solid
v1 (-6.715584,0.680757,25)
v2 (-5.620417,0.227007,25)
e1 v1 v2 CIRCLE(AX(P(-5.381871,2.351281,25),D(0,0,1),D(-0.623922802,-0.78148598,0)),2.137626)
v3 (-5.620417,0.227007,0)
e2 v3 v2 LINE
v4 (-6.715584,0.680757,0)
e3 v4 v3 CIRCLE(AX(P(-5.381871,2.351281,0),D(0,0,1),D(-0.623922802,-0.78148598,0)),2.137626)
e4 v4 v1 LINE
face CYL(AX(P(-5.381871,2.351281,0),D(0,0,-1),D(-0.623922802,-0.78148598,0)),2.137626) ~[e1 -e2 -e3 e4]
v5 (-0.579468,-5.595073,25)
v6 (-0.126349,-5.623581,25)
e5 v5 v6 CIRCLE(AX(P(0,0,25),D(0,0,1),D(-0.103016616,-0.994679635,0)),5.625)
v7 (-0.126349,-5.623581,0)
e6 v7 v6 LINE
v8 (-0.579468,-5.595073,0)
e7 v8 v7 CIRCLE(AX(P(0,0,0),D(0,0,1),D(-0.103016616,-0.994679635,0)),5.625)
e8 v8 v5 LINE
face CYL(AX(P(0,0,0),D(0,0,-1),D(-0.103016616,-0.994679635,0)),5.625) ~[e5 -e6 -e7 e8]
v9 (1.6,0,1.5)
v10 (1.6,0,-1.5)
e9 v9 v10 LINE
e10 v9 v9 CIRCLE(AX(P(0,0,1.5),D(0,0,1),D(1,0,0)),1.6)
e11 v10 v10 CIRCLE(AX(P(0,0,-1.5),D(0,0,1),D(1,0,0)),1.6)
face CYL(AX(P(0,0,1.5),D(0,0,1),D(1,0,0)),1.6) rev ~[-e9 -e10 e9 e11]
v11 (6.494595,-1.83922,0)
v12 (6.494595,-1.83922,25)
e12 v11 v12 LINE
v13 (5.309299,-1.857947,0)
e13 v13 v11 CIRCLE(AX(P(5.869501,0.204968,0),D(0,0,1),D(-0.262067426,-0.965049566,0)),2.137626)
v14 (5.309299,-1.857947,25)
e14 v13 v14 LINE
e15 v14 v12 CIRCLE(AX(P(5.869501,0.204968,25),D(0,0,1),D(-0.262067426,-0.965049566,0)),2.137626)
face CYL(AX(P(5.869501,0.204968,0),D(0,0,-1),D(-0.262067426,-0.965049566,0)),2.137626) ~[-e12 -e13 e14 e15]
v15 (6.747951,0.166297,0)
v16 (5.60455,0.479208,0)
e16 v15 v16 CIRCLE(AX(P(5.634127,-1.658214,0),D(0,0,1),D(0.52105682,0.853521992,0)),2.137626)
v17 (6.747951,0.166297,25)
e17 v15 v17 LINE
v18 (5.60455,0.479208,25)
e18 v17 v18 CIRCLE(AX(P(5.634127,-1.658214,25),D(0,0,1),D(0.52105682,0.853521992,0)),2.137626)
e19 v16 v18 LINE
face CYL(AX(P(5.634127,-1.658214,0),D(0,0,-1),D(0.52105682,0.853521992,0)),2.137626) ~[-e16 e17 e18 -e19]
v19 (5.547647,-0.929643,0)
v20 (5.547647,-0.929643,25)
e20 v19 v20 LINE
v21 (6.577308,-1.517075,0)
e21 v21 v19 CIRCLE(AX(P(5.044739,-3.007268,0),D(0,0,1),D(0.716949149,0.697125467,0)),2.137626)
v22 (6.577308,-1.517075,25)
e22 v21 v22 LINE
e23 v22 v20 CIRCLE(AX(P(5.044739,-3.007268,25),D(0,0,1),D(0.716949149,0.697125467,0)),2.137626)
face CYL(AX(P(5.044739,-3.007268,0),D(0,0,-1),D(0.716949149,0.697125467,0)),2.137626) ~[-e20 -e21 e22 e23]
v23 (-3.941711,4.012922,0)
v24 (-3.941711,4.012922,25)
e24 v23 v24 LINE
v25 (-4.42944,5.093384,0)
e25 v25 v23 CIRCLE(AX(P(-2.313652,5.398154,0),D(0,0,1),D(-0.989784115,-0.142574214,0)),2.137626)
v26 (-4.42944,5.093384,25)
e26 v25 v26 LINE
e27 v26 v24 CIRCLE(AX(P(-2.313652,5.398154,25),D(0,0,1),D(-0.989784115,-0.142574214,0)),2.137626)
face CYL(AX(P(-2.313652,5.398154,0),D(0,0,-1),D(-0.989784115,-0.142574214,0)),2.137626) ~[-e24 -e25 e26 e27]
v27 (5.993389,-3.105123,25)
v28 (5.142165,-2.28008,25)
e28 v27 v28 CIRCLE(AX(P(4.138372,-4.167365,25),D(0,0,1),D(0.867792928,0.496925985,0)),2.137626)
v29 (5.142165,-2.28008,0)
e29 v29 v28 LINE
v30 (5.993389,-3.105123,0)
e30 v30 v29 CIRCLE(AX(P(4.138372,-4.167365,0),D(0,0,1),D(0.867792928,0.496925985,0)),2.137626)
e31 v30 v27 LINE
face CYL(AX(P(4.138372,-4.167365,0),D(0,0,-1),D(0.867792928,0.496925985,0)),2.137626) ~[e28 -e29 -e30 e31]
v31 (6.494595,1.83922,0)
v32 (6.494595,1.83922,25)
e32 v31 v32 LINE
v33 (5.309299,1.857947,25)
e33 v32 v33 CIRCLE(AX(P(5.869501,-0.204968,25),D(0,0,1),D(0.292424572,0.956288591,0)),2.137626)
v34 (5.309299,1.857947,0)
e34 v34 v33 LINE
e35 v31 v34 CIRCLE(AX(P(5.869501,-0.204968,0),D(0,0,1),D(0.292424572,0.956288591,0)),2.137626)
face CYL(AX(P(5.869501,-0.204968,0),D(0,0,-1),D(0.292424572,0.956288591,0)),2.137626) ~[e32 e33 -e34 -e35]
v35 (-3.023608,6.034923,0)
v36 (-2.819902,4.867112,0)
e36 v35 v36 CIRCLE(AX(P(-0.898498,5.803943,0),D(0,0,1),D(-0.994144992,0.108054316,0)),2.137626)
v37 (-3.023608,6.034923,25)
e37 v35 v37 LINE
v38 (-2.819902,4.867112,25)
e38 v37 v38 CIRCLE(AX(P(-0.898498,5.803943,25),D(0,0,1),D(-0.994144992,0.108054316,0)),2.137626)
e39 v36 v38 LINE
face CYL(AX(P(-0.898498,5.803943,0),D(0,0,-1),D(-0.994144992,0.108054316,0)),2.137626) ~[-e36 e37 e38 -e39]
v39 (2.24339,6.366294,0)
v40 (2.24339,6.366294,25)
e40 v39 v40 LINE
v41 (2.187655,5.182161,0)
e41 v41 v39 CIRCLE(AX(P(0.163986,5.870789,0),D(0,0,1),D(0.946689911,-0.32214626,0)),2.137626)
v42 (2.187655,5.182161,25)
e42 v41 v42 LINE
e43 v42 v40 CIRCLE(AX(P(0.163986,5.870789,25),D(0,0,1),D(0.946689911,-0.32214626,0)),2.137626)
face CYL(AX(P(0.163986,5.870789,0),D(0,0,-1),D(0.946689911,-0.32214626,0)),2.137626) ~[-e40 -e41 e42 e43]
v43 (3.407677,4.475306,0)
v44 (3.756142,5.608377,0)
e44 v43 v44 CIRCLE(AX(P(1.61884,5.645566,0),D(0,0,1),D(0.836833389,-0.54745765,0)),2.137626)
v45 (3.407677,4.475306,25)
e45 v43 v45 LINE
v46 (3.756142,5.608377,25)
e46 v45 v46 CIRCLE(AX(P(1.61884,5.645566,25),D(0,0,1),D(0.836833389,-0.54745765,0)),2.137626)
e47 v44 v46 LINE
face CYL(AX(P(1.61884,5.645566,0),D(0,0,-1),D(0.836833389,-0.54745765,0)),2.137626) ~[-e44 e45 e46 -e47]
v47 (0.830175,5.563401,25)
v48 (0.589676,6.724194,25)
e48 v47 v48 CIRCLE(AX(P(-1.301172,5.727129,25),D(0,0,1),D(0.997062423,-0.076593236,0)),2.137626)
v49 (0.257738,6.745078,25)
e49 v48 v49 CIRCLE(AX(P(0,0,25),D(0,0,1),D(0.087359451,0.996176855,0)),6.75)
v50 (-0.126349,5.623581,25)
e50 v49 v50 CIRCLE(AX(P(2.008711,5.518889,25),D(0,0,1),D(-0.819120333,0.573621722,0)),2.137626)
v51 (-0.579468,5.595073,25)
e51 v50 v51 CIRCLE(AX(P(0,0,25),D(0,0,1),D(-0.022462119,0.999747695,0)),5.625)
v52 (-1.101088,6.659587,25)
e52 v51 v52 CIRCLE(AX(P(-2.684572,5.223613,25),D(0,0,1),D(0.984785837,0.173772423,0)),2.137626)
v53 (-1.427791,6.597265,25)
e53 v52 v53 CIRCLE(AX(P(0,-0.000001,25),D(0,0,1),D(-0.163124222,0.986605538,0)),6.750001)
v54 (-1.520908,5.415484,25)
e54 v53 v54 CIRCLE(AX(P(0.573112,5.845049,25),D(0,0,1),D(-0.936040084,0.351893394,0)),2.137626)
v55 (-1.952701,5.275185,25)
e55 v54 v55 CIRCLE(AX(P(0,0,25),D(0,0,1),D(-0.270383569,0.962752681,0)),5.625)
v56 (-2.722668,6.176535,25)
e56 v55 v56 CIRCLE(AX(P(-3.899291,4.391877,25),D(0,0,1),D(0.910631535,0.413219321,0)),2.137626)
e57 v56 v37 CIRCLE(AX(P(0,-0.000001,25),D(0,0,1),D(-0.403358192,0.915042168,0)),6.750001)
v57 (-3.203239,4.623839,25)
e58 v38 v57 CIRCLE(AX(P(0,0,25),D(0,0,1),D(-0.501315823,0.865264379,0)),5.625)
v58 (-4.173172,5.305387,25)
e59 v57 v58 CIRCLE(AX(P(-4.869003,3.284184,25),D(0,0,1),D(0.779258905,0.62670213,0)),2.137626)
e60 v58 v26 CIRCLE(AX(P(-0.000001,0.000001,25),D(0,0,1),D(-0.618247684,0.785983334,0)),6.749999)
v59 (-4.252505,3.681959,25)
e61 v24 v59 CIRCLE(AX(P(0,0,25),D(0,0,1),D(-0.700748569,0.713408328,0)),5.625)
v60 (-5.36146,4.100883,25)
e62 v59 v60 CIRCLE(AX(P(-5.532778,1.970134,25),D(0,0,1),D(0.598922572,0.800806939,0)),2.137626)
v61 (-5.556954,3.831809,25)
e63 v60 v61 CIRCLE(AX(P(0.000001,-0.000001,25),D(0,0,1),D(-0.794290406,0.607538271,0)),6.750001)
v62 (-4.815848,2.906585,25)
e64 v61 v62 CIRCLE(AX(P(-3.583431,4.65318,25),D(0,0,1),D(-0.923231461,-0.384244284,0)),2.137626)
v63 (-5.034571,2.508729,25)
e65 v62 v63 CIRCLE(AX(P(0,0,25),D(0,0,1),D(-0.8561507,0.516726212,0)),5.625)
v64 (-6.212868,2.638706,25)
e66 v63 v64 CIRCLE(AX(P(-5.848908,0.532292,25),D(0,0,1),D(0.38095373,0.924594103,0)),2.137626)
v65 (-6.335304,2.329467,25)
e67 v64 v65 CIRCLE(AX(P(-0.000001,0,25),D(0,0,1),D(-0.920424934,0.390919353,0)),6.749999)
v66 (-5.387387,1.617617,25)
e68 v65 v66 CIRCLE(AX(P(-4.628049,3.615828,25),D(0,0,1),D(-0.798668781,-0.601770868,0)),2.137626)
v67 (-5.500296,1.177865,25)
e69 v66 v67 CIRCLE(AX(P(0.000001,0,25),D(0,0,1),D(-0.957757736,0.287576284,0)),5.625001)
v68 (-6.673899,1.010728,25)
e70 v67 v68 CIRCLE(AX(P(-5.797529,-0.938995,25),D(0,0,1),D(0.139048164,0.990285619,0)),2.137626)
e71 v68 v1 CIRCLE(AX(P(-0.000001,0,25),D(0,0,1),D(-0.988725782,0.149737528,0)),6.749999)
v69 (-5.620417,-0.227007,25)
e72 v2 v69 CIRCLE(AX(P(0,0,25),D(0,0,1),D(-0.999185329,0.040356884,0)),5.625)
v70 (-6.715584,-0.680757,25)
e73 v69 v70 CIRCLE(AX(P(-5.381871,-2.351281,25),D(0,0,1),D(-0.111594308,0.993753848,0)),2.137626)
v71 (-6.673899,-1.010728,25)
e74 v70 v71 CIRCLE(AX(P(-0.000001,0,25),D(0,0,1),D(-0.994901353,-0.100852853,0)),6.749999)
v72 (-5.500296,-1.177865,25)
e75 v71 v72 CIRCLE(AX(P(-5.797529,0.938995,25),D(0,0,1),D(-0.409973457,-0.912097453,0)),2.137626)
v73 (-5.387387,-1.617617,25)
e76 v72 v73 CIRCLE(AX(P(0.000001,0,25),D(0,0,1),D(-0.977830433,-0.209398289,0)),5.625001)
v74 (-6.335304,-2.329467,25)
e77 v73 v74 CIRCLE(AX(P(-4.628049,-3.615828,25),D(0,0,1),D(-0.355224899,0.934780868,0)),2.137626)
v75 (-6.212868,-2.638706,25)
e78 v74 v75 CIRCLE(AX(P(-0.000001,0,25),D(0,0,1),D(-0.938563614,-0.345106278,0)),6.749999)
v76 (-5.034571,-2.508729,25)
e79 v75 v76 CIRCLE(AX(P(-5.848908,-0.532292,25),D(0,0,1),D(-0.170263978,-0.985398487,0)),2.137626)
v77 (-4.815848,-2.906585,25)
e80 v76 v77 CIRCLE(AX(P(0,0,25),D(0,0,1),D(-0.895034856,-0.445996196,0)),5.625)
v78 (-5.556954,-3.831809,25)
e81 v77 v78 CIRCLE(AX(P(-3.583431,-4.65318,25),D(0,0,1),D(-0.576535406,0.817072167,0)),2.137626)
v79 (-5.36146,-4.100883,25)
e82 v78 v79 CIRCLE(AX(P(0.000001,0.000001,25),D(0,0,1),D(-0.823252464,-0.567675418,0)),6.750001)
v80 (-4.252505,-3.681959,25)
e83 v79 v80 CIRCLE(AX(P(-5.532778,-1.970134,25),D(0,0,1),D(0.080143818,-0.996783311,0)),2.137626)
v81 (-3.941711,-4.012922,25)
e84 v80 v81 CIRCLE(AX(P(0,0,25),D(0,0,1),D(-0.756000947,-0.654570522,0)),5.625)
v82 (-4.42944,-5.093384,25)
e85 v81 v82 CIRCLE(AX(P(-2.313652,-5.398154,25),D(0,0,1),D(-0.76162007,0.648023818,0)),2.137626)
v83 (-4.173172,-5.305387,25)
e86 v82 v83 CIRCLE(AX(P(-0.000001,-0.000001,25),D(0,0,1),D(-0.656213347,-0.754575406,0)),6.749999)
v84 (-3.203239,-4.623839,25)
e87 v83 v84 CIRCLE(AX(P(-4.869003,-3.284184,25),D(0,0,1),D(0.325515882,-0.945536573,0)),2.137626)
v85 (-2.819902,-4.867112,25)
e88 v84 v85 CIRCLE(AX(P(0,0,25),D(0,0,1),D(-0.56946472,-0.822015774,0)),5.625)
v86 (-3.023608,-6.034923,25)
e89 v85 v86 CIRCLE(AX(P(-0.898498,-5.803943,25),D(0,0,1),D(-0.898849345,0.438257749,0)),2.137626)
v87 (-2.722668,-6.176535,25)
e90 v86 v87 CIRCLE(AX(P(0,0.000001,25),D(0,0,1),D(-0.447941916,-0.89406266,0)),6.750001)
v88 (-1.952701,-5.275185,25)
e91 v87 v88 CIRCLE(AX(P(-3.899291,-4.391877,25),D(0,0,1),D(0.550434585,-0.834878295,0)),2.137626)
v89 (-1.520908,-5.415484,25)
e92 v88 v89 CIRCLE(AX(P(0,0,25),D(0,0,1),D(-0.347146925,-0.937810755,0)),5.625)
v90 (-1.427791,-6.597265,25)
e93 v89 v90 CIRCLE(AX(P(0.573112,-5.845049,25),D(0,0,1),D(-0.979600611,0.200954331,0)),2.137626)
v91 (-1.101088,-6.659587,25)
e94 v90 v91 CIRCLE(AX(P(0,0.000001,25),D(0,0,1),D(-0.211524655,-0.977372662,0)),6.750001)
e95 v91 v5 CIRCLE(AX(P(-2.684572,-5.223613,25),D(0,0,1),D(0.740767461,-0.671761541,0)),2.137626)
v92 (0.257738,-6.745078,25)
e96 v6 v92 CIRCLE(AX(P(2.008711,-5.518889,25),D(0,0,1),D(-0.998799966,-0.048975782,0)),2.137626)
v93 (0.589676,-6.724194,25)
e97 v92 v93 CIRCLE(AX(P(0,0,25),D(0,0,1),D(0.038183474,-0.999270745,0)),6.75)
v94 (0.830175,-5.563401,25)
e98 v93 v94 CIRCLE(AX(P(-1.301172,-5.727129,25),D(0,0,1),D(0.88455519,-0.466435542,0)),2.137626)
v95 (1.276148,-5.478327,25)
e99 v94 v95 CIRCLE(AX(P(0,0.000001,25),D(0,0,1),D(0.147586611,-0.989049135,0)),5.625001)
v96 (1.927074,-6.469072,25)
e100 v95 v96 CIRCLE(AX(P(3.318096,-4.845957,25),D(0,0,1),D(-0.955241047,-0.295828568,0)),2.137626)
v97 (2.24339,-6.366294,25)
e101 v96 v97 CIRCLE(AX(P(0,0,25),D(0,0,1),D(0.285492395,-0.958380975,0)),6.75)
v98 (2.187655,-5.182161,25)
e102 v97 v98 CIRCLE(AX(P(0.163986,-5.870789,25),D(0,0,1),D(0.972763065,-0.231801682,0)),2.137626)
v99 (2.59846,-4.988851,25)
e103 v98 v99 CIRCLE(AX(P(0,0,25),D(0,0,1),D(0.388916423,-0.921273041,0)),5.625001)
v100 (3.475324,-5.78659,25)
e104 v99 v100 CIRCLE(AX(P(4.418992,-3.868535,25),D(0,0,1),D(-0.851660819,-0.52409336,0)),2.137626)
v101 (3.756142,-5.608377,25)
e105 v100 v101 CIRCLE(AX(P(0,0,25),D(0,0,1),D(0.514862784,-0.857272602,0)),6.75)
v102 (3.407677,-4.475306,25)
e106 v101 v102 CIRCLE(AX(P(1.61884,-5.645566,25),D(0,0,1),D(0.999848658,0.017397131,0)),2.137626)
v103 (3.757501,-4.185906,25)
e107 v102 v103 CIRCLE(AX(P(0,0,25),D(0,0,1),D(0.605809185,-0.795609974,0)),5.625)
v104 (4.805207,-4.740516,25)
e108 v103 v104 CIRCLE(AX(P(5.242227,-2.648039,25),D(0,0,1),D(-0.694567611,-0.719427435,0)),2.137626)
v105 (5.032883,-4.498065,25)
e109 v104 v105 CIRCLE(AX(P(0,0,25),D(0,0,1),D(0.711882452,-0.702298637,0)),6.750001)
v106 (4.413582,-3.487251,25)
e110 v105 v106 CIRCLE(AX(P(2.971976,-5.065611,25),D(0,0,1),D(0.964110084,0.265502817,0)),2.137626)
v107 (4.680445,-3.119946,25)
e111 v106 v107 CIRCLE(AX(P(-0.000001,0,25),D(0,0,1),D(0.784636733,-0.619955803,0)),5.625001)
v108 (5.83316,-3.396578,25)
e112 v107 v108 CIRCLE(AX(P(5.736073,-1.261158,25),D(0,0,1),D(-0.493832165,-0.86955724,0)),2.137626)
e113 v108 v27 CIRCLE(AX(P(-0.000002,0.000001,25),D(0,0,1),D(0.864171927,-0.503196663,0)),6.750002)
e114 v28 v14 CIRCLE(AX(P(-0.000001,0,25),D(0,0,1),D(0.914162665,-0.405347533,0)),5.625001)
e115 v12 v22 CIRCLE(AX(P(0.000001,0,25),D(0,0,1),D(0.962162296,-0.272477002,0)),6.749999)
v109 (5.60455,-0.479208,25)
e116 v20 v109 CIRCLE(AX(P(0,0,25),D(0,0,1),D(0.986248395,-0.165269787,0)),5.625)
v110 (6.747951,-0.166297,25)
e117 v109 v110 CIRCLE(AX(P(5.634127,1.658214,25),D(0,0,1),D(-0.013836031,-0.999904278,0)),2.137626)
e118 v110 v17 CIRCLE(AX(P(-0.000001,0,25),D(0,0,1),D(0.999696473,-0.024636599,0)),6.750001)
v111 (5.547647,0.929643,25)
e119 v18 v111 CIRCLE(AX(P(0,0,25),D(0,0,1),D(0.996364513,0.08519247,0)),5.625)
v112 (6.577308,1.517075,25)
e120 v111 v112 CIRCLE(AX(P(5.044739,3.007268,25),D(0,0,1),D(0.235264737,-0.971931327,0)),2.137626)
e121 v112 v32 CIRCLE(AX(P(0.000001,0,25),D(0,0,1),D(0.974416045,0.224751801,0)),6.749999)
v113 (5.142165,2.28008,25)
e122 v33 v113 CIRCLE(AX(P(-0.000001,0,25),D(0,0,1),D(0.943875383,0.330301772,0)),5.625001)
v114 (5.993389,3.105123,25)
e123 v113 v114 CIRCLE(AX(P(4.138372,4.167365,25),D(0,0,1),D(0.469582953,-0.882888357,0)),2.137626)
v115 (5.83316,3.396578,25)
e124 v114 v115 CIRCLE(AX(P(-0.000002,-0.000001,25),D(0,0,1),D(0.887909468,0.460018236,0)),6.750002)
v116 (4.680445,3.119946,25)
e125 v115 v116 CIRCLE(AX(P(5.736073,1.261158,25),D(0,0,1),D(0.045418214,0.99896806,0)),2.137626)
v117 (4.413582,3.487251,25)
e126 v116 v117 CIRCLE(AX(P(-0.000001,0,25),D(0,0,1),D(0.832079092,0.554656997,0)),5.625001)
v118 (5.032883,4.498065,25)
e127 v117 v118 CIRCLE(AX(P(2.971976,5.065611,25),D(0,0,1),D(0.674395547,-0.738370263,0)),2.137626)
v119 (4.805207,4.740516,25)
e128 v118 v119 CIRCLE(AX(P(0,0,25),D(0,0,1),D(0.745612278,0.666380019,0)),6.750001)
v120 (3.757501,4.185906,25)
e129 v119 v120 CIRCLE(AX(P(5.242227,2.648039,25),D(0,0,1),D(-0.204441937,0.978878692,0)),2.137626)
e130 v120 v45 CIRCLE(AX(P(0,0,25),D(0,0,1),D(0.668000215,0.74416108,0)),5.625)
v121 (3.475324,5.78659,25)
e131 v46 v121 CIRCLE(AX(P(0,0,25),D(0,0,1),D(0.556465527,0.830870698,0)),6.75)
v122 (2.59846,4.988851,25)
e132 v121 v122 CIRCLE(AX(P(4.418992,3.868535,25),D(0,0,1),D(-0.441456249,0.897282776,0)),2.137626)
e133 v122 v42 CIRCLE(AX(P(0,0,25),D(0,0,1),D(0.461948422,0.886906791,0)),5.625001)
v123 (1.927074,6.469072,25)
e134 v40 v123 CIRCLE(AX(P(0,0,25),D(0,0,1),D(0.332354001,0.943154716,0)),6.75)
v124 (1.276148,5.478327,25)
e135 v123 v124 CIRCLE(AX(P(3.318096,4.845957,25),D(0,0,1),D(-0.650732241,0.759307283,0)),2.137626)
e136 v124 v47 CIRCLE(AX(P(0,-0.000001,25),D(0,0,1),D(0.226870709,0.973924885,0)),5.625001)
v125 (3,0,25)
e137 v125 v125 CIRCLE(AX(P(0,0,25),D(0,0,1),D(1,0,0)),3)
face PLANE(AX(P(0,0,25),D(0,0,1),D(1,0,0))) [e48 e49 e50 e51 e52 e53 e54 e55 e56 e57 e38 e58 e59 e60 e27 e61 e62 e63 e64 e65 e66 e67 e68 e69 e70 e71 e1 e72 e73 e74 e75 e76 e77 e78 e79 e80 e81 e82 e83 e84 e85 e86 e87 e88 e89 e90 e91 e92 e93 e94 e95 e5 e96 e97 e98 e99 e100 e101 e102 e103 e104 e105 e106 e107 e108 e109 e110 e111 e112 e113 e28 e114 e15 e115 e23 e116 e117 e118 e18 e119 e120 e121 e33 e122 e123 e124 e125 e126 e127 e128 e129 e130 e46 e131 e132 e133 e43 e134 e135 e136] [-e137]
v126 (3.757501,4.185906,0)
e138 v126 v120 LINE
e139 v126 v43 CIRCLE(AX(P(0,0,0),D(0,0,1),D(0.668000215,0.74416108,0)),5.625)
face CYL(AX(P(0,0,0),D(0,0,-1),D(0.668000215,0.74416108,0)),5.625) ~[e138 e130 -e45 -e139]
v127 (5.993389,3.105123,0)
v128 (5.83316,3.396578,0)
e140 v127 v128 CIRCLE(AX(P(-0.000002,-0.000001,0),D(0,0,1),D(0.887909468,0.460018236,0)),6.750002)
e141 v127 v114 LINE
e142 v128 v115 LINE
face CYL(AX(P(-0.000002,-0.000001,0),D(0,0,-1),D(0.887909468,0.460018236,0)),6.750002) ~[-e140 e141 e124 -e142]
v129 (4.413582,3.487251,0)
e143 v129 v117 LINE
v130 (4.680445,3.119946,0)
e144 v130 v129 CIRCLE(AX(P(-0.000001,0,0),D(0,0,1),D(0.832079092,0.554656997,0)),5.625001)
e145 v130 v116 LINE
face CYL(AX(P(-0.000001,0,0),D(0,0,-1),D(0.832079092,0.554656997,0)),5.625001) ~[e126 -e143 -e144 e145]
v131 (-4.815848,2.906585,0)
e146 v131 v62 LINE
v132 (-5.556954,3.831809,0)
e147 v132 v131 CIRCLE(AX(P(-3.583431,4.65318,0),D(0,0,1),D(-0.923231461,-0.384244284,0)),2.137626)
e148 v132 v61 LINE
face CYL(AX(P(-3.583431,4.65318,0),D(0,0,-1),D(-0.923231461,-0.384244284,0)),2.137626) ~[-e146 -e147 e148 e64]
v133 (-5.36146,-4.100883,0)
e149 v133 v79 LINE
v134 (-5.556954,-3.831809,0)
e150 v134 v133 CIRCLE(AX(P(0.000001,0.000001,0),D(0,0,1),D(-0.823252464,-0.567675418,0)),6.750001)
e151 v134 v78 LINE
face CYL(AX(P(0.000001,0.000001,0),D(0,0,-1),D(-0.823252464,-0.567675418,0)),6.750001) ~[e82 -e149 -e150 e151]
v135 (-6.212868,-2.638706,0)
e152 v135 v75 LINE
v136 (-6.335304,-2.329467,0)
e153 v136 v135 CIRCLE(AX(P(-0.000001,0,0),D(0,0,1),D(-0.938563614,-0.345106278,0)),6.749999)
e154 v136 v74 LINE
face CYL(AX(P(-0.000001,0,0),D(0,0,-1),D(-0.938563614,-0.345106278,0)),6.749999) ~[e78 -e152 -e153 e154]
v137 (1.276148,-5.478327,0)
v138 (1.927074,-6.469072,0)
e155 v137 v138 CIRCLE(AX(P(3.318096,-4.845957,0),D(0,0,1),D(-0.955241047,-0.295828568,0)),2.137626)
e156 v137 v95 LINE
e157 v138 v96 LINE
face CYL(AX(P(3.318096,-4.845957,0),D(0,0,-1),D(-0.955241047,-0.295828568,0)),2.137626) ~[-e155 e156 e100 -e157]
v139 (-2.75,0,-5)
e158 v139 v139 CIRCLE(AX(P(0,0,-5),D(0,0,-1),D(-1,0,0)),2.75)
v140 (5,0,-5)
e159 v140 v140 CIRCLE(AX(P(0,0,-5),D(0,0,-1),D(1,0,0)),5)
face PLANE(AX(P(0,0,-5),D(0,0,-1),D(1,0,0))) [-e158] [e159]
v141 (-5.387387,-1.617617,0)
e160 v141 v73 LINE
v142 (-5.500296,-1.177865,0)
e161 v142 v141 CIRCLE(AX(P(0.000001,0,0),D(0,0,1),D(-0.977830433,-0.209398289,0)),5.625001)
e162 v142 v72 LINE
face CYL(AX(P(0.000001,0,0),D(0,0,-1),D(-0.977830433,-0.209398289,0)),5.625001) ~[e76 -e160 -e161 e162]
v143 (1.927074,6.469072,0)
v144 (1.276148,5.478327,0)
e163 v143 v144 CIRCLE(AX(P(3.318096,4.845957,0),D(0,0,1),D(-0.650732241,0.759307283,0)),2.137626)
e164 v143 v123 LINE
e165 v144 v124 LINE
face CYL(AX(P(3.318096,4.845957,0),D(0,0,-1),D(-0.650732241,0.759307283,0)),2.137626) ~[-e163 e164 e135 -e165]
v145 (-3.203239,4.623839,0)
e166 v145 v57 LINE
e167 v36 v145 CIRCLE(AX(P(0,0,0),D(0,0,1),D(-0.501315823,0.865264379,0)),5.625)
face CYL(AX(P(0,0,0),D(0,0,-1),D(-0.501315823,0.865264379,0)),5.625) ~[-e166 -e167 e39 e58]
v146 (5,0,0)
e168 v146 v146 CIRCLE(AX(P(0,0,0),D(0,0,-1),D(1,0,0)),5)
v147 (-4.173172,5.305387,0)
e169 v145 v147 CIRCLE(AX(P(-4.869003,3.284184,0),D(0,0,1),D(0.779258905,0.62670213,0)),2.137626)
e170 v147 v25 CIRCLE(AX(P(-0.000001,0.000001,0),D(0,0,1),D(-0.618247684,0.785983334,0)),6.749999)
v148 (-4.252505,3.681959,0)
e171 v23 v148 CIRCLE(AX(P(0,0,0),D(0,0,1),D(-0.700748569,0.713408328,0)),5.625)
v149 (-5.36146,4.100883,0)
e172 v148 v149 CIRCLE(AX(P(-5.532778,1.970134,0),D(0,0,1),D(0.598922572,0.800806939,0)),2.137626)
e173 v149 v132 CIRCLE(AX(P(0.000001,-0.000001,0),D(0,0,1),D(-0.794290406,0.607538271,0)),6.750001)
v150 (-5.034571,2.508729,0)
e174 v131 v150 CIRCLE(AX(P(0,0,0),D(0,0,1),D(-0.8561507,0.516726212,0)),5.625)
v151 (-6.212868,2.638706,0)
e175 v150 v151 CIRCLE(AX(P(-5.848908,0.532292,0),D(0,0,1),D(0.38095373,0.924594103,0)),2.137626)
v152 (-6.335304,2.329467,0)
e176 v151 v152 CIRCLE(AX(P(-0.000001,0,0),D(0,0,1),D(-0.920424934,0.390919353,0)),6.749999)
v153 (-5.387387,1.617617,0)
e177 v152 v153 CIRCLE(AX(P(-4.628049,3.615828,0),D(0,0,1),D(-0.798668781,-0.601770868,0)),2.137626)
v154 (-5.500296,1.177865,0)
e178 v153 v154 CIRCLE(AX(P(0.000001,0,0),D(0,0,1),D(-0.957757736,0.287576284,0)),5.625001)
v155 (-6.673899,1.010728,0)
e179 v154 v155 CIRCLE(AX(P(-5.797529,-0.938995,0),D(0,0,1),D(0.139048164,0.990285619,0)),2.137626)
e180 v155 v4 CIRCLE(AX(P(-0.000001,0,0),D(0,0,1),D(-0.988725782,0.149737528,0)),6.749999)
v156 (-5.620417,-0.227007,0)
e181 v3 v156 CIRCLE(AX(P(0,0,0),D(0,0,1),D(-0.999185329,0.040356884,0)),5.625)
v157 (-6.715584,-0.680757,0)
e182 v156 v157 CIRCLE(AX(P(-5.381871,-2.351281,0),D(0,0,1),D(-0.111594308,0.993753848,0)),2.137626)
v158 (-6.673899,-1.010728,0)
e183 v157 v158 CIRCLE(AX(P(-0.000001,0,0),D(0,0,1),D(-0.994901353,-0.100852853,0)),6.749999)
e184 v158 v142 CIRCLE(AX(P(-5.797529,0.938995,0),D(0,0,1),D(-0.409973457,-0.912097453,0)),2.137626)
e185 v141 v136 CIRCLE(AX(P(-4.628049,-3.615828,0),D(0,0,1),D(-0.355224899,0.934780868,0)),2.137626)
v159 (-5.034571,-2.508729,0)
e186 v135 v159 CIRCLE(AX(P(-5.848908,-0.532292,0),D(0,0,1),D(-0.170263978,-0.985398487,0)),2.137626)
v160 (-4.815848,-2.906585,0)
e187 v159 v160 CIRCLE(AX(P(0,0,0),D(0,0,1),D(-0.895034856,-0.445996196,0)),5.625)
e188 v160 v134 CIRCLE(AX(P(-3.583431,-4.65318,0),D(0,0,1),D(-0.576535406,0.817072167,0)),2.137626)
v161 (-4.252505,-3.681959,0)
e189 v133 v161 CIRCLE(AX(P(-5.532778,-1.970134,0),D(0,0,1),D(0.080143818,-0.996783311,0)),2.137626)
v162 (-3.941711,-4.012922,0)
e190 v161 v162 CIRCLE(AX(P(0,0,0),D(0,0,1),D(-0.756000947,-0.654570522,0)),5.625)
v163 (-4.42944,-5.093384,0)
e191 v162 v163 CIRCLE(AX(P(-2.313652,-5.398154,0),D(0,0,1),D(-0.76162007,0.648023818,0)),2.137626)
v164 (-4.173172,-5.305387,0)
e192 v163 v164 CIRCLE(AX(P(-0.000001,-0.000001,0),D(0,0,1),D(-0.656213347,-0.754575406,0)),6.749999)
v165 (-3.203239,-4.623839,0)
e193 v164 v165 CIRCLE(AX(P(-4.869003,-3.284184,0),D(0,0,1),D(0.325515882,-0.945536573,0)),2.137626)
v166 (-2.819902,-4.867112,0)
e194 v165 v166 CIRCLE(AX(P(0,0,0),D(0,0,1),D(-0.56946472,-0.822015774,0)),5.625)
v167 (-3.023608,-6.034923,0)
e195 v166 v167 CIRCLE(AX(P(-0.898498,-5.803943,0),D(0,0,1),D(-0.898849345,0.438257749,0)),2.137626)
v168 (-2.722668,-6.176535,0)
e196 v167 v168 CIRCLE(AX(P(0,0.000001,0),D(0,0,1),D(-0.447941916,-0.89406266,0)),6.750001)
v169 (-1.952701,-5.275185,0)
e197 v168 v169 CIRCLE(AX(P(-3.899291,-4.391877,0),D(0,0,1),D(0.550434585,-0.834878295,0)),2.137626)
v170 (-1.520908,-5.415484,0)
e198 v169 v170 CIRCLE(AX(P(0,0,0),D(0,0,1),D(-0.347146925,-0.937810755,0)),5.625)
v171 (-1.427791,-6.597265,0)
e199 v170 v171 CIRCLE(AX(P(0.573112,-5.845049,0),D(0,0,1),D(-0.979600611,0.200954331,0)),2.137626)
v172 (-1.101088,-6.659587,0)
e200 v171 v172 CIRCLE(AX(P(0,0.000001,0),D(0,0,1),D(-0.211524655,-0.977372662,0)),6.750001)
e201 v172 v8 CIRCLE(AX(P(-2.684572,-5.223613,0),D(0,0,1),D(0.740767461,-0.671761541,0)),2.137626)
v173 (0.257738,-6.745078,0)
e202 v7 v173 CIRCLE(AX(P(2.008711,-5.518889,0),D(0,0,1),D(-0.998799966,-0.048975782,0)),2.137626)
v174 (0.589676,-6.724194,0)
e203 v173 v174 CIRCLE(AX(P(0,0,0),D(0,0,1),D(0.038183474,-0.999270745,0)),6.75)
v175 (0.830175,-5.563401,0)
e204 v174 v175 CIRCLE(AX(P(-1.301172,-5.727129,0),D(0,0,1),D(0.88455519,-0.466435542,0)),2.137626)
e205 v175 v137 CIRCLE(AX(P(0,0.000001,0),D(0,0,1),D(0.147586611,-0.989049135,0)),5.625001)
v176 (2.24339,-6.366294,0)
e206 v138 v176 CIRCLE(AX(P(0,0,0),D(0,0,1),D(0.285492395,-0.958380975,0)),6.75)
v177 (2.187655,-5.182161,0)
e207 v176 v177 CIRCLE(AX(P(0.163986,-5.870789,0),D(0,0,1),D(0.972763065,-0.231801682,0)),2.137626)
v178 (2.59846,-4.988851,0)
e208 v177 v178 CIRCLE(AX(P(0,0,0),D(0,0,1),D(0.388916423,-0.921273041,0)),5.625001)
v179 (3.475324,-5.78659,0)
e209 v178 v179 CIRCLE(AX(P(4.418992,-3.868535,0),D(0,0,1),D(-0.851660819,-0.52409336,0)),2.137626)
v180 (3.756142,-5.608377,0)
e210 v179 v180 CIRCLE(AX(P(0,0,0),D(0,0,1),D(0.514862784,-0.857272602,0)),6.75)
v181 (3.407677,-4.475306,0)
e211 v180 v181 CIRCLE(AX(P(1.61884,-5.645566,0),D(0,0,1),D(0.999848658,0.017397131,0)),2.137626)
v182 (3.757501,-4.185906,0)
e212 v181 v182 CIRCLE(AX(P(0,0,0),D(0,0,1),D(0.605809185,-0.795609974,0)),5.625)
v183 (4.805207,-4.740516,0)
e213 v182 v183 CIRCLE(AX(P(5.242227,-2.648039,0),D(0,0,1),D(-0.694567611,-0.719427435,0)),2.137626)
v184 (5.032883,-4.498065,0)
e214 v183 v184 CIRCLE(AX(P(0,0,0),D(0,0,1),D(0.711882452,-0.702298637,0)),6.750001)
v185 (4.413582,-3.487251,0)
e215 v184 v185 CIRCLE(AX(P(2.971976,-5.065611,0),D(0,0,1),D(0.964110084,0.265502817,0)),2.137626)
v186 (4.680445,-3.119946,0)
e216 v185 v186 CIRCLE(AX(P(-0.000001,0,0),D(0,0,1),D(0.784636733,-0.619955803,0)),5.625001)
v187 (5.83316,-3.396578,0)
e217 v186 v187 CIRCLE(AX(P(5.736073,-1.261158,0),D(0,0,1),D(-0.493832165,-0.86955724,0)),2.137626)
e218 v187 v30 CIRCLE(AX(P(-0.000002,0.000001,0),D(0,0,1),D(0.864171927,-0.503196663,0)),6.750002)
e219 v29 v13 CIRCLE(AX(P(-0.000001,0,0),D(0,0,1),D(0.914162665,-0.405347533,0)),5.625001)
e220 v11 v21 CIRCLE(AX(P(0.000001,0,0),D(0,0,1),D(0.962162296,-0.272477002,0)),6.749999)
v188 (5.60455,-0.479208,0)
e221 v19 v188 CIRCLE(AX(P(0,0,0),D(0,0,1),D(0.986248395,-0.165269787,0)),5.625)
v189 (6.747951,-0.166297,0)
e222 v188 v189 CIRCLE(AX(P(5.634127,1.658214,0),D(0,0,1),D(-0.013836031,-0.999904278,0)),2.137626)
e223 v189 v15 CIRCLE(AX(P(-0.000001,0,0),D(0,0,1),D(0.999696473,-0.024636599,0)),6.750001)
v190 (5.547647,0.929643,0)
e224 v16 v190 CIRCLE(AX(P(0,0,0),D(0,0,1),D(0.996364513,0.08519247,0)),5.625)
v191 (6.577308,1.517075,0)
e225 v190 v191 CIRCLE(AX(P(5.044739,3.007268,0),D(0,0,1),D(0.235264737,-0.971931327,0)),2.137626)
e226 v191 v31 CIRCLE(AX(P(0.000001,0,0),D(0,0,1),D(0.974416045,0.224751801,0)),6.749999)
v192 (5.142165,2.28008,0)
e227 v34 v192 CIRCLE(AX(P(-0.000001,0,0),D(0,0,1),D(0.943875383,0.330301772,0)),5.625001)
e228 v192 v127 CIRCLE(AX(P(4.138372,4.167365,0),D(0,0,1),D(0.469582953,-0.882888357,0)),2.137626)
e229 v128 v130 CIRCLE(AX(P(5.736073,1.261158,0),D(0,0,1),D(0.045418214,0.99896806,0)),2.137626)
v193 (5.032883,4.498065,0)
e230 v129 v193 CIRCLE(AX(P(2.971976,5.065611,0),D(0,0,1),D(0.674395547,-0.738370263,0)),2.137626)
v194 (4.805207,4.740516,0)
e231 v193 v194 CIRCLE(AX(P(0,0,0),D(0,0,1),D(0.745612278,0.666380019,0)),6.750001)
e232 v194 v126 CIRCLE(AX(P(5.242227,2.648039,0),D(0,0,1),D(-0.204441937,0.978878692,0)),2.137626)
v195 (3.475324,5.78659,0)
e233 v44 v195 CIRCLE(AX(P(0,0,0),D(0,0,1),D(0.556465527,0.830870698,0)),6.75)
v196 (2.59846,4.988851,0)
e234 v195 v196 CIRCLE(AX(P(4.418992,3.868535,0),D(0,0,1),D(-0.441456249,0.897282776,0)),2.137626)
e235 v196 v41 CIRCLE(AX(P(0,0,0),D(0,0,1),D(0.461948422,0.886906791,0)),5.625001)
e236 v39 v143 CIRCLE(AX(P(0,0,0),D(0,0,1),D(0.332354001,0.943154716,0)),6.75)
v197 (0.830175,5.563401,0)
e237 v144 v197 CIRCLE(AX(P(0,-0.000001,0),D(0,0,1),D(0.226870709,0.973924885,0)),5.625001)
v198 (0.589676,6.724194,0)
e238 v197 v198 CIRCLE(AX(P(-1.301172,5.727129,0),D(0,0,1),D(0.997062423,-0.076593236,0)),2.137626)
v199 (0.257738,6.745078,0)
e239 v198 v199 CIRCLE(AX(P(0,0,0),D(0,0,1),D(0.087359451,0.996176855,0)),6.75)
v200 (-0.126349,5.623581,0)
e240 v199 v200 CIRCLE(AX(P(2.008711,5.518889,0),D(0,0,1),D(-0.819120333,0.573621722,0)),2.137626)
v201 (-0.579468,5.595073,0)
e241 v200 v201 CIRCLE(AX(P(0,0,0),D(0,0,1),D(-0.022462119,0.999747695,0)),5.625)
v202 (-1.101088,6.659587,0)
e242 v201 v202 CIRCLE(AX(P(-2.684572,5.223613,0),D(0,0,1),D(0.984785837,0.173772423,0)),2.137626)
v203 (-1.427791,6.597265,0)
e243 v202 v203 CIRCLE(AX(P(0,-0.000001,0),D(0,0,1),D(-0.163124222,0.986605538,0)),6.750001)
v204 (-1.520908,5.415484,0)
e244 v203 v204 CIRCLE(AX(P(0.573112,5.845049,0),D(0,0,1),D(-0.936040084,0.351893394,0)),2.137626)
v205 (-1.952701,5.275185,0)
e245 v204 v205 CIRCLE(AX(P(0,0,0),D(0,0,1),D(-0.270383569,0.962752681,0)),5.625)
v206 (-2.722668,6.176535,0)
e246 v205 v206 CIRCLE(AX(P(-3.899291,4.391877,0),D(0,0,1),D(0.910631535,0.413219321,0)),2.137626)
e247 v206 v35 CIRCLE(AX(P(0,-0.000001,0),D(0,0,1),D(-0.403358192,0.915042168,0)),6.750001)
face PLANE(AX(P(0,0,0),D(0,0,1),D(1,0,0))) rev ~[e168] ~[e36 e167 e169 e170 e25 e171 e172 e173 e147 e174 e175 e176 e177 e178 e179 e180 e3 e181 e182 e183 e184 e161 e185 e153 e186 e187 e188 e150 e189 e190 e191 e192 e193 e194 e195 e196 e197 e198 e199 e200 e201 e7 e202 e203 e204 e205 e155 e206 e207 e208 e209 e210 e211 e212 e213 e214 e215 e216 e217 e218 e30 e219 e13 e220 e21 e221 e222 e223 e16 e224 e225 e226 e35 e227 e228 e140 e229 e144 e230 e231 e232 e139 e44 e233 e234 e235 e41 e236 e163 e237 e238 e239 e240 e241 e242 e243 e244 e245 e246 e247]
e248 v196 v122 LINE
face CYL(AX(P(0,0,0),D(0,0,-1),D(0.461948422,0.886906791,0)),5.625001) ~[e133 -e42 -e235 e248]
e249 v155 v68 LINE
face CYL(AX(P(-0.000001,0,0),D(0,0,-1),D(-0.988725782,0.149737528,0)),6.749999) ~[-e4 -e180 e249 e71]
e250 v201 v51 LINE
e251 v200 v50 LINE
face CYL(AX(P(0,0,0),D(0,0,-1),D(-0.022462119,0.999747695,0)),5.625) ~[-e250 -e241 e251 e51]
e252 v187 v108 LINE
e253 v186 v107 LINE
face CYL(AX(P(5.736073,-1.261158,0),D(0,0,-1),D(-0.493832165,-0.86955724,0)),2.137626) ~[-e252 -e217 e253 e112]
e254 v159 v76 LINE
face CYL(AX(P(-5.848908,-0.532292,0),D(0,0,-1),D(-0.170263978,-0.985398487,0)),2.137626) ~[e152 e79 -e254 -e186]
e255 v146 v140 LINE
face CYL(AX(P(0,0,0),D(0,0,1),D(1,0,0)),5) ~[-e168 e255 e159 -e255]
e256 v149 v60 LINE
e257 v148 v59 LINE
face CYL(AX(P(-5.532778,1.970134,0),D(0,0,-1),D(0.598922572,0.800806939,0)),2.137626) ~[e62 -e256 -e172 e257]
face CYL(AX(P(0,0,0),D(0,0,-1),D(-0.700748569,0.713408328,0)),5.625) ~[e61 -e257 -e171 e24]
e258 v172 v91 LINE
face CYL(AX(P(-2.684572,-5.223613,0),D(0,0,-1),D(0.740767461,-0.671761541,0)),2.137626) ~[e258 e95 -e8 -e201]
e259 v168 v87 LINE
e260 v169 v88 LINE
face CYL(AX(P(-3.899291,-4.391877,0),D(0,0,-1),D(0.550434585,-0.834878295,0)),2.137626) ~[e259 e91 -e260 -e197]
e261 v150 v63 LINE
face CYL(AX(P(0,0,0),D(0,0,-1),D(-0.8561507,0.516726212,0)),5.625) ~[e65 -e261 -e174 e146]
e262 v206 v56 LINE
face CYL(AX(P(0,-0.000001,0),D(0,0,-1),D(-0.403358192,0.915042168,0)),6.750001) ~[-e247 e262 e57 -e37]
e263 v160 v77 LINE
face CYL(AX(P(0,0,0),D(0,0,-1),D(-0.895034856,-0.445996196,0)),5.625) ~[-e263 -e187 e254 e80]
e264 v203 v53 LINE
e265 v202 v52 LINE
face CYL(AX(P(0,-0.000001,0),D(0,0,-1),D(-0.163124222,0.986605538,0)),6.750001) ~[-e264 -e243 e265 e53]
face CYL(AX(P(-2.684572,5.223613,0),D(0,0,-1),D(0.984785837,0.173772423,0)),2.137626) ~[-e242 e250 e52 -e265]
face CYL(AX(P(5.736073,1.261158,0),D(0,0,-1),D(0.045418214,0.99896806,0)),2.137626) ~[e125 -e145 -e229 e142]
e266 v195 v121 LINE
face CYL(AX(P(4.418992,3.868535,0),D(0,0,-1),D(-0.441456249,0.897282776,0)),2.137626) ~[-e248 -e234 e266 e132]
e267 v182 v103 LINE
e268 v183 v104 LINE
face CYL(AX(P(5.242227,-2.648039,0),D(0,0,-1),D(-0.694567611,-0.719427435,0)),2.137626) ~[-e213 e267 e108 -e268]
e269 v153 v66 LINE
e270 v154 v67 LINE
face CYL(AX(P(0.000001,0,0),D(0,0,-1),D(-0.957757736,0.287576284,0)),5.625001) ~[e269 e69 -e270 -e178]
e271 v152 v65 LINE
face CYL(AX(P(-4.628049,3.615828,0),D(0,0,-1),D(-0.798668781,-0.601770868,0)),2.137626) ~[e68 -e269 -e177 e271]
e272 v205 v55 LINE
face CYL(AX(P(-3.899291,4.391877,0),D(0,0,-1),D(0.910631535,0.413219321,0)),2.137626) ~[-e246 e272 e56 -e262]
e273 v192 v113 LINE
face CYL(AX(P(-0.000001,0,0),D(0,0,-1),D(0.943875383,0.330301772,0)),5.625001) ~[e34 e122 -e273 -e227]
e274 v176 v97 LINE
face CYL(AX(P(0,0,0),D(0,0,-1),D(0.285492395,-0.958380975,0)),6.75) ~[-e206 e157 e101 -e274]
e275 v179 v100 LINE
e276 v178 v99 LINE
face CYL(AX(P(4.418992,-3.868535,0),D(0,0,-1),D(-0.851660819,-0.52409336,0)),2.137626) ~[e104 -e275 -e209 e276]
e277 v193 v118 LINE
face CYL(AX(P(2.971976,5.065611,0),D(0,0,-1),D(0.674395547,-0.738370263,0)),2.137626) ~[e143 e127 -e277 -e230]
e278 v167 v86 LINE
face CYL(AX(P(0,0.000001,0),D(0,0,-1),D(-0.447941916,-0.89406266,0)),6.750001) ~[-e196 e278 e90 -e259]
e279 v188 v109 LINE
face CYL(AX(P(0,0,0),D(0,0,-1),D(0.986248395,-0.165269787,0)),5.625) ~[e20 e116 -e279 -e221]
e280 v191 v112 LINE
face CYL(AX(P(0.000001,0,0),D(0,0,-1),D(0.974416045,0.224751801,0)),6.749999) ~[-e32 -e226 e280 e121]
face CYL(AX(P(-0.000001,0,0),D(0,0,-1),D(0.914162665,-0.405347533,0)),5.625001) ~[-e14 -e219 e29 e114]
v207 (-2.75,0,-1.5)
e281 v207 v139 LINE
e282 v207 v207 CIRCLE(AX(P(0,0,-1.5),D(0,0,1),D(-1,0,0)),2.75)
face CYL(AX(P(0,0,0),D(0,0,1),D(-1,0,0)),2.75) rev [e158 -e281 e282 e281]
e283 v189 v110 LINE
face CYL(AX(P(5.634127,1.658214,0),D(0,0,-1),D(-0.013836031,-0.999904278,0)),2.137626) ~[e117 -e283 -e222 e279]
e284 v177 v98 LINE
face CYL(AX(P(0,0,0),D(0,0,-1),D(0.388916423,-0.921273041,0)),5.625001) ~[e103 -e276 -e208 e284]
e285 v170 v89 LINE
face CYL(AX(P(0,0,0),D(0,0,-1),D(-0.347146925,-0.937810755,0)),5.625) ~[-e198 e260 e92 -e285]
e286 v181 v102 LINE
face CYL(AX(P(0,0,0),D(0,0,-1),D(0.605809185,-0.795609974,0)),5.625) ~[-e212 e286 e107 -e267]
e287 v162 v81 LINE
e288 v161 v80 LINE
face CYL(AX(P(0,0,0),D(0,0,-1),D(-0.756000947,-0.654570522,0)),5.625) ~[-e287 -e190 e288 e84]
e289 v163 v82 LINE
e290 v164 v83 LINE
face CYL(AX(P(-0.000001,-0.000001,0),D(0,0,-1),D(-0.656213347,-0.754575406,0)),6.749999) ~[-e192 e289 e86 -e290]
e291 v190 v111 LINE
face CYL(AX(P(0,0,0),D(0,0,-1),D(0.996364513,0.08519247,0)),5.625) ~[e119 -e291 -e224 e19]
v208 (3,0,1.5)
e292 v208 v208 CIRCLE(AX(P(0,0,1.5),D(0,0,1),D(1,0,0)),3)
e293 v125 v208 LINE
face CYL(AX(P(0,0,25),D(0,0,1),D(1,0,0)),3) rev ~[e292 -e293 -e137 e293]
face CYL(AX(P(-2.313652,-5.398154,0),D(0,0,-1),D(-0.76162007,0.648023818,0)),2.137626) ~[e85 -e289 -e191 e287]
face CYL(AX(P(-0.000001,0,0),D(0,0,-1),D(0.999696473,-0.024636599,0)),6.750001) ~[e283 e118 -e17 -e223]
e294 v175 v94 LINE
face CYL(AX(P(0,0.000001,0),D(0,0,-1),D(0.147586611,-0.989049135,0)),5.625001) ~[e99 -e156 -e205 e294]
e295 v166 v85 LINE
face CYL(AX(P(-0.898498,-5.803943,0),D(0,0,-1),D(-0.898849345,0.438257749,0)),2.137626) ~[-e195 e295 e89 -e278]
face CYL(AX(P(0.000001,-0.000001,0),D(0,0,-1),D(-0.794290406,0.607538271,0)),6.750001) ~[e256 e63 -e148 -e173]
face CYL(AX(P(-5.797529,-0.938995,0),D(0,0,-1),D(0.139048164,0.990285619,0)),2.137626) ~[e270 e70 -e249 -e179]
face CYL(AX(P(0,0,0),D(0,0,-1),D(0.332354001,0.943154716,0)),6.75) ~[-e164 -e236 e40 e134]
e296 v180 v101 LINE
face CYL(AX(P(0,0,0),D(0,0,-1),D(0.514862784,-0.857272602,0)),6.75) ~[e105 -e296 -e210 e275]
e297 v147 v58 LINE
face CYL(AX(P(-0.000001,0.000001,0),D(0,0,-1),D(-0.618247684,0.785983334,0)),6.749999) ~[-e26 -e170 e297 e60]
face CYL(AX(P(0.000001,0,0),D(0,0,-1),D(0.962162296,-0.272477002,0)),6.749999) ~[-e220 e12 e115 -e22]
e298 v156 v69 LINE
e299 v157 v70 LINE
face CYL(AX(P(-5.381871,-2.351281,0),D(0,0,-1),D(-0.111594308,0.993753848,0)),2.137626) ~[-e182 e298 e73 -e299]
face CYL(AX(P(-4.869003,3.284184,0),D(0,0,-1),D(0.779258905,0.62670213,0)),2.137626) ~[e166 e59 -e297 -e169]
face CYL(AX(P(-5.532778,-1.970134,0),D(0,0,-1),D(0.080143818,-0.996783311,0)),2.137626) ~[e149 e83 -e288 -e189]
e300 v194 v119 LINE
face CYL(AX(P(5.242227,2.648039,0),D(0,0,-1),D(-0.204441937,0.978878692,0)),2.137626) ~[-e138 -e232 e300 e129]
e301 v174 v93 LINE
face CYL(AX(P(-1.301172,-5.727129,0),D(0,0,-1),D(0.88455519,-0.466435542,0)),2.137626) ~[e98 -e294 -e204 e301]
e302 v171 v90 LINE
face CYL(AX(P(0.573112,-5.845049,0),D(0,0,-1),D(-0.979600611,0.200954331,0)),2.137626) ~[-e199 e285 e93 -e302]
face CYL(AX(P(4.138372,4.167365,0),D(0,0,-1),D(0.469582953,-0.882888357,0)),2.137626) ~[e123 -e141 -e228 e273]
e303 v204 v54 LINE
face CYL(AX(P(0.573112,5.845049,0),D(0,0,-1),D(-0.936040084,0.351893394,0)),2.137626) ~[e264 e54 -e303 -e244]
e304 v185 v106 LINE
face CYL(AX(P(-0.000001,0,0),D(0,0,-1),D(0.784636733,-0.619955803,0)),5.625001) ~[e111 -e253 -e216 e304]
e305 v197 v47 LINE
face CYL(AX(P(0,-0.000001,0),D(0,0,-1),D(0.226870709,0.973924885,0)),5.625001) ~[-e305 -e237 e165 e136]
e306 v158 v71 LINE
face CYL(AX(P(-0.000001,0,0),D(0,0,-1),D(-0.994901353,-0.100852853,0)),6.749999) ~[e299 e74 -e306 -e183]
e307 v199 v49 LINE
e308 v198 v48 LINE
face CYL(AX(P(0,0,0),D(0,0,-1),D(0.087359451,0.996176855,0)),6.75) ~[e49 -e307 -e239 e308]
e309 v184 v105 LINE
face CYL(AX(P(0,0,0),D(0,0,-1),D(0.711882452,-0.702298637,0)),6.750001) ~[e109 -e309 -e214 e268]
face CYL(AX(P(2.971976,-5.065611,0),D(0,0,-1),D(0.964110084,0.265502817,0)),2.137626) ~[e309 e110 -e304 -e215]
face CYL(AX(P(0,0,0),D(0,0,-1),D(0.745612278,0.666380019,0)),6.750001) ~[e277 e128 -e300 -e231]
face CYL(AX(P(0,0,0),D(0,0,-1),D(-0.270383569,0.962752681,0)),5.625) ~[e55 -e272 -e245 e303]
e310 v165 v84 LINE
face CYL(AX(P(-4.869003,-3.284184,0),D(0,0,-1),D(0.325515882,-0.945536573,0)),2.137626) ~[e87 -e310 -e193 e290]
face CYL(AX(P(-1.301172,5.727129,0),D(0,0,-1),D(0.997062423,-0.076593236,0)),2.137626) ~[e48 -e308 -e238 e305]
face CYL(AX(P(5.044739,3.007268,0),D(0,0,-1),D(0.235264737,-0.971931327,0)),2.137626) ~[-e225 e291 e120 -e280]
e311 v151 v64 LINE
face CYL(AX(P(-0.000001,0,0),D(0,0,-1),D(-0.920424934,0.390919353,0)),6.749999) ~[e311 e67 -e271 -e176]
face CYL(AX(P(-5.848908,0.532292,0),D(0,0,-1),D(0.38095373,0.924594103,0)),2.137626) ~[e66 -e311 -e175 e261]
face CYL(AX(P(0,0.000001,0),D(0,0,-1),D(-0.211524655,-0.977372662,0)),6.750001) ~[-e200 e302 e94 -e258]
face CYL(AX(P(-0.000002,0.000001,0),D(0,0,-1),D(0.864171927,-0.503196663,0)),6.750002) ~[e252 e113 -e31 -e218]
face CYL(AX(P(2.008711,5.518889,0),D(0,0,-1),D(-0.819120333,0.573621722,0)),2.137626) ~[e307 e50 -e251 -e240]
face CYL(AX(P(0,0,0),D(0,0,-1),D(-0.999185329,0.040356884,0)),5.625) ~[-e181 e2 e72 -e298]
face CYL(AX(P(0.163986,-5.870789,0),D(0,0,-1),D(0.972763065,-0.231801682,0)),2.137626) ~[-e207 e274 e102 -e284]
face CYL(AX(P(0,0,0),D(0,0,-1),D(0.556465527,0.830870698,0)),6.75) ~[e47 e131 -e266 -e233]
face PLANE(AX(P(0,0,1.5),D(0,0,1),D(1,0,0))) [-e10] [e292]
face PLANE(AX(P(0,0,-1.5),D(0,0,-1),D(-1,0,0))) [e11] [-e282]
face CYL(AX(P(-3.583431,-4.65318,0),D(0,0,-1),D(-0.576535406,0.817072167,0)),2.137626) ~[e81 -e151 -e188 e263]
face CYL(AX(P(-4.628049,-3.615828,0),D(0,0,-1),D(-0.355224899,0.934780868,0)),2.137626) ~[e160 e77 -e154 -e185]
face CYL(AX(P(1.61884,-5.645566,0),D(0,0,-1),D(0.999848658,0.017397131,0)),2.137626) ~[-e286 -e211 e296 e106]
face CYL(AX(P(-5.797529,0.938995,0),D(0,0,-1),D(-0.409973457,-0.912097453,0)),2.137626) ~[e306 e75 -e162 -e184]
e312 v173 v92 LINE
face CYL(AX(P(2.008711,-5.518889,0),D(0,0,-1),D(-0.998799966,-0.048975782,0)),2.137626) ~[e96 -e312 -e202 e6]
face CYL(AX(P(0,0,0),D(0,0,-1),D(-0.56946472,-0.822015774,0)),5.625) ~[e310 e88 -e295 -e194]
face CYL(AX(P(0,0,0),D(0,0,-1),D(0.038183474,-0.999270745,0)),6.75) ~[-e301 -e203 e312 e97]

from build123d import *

# Parameters (mm, degrees)
EXTRUDE_1_DEPTH     = 25
SKETCH_2_R          = 5
SKETCH_2_R_2        = 2.75
EXTRUDE_2_DEPTH     = 5
SKETCH_3_R          = 3
EXTRUDE_3_DEPTH     = 1.5
SKETCH_4_R          = 3
CUT_EXTRUDE_1_DEPTH = 23.5
SKETCH_5_R          = 1.6
CUT_EXTRUDE_2_DEPTH = 26.363528361


with BuildPart() as part:
    # 草图1 → 凸台-拉伸1 (new body)
    with BuildSketch(Plane.XY):
        with BuildLine():
            ThreePointArc((-0.126349393, 5.623580784), (-0.353196672, 5.613900347), (-0.579468474, 5.595072947))
            ThreePointArc((-0.579468474, 5.595072947), (-0.765010507, 6.164212032), (-1.101088476, 6.659587387))
            ThreePointArc((-1.101088476, 6.659587387), (-1.264823873, 6.630438942), (-1.427791454, 6.597265461))
            ThreePointArc((-1.427791454, 6.597265461), (-1.557909016, 6.012958552), (-1.520907565, 5.415483836))
            ThreePointArc((-1.520907565, 5.415483836), (-1.738220593, 5.349692904), (-1.952701466, 5.275185493))
            ThreePointArc((-1.952701466, 5.275185493), (-2.27395349, 5.7803016), (-2.722667793, 6.176534634))
            ThreePointArc((-2.722667793, 6.176534634), (-2.874010218, 6.107582604), (-3.023607963, 6.03492294))
            ThreePointArc((-3.023607963, 6.03492294), (-3.004326424, 5.436614185), (-2.819901521, 4.867112122))
            ThreePointArc((-2.819901521, 4.867112122), (-3.014025722, 4.749344581), (-3.203239044, 4.623838733))
            ThreePointArc((-3.203239044, 4.623838733), (-3.640015612, 5.033193559), (-4.173171879, 5.305387495))
            ThreePointArc((-4.173171879, 5.305387495), (-4.302611931, 5.200964389), (-4.429440063, 5.093384015))
            ThreePointArc((-4.429440063, 5.093384015), (-4.261970953, 4.518667354), (-3.941710694, 4.012921854))
            ThreePointArc((-3.941710694, 4.012921854), (-4.100448529, 3.850577471), (-4.252505332, 3.68195918))
            ThreePointArc((-4.252505332, 3.68195918), (-4.777362166, 3.969831456), (-5.361460228, 4.100883347))
            ThreePointArc((-5.361460228, 4.100883347), (-5.460864712, 3.967550453), (-5.556954155, 3.831809041))
            ThreePointArc((-5.556954155, 3.831809041), (-5.251820172, 3.316796034), (-4.815847687, 2.906584947))
            ThreePointArc((-4.815847687, 2.906584947), (-4.929225075, 2.709864417), (-5.03457107, 2.508728591))
            ThreePointArc((-5.03457107, 2.508728591), (-5.614529486, 2.657030243), (-6.212868313, 2.638705616))
            ThreePointArc((-6.212868313, 2.638705616), (-6.27599128, 2.484840731), (-6.335304379, 2.329467412))
            ThreePointArc((-6.335304379, 2.329467412), (-5.911678216, 1.906518221), (-5.387387259, 1.617616618))
            ThreePointArc((-5.387387259, 1.617616618), (-5.448280281, 1.398880615), (-5.500296192, 1.177865357))
            ThreePointArc((-5.500296192, 1.177865357), (-6.098915269, 1.177278047), (-6.673899032, 1.010728308))
            ThreePointArc((-6.673899032, 1.010728308), (-6.696774234, 0.845999327), (-6.71558413, 0.680756778))
            ThreePointArc((-6.71558413, 0.680756778), (-6.200083775, 0.376446857), (-5.620417476, 0.227007488))
            ThreePointArc((-5.620417476, 0.227007488), (-5.625, 0), (-5.620417476, -0.227007488))
            ThreePointArc((-5.620417476, -0.227007488), (-6.200083775, -0.376446857), (-6.71558413, -0.680756778))
            ThreePointArc((-6.71558413, -0.680756778), (-6.696774234, -0.845999327), (-6.673899032, -1.010728308))
            ThreePointArc((-6.673899032, -1.010728308), (-6.098915269, -1.177278047), (-5.500296192, -1.177865357))
            ThreePointArc((-5.500296192, -1.177865357), (-5.448280281, -1.398880615), (-5.387387259, -1.617616618))
            ThreePointArc((-5.387387259, -1.617616618), (-5.911678216, -1.906518221), (-6.335304379, -2.329467412))
            ThreePointArc((-6.335304379, -2.329467412), (-6.27599128, -2.484840731), (-6.212868313, -2.638705616))
            ThreePointArc((-6.212868313, -2.638705616), (-5.614529486, -2.657030243), (-5.03457107, -2.508728591))
            ThreePointArc((-5.03457107, -2.508728591), (-4.929225075, -2.709864417), (-4.815847687, -2.906584947))
            ThreePointArc((-4.815847687, -2.906584947), (-5.251820172, -3.316796034), (-5.556954155, -3.831809041))
            ThreePointArc((-5.556954155, -3.831809041), (-5.460864712, -3.967550453), (-5.361460228, -4.100883347))
            ThreePointArc((-5.361460228, -4.100883347), (-4.777362166, -3.969831456), (-4.252505332, -3.68195918))
            ThreePointArc((-4.252505332, -3.68195918), (-4.100448529, -3.850577471), (-3.941710694, -4.012921854))
            ThreePointArc((-3.941710694, -4.012921854), (-4.261970953, -4.518667354), (-4.429440063, -5.093384015))
            ThreePointArc((-4.429440063, -5.093384015), (-4.302611931, -5.200964389), (-4.173171879, -5.305387495))
            ThreePointArc((-4.173171879, -5.305387495), (-3.640015612, -5.033193559), (-3.203239044, -4.623838733))
            ThreePointArc((-3.203239044, -4.623838733), (-3.014025722, -4.749344581), (-2.819901521, -4.867112122))
            ThreePointArc((-2.819901521, -4.867112122), (-3.004326424, -5.436614185), (-3.023607963, -6.03492294))
            ThreePointArc((-3.023607963, -6.03492294), (-2.874010218, -6.107582604), (-2.722667793, -6.176534634))
            ThreePointArc((-2.722667793, -6.176534634), (-2.27395349, -5.7803016), (-1.952701466, -5.275185493))
            ThreePointArc((-1.952701466, -5.275185493), (-1.738220593, -5.349692904), (-1.520907565, -5.415483836))
            ThreePointArc((-1.520907565, -5.415483836), (-1.557909016, -6.012958552), (-1.427791454, -6.597265461))
            ThreePointArc((-1.427791454, -6.597265461), (-1.264823873, -6.630438942), (-1.101088476, -6.659587387))
            ThreePointArc((-1.101088476, -6.659587387), (-0.765010507, -6.164212032), (-0.579468474, -5.595072947))
            ThreePointArc((-0.579468474, -5.595072947), (-0.353196672, -5.613900347), (-0.126349393, -5.623580784))
            ThreePointArc((-0.126349393, -5.623580784), (-0.013602456, -6.21148662), (0.257738444, -6.745077531))
            ThreePointArc((0.257738444, -6.745077531), (0.423836007, -6.736680417), (0.589676279, -6.724193772))
            ThreePointArc((0.589676279, -6.724193772), (0.7920009, -6.160802353), (0.830174654, -5.563401392))
            ThreePointArc((0.830174654, -5.563401392), (1.054019895, -5.525365785), (1.276147777, -5.478327469))
            ThreePointArc((1.276147777, -5.478327469), (1.531558797, -6.019724139), (1.927073686, -6.469071572))
            ThreePointArc((1.927073686, -6.469071572), (2.085864712, -6.419631485), (2.243389504, -6.366294333))
            ThreePointArc((2.243389504, -6.366294333), (2.299247977, -5.770286804), (2.187654855, -5.182160866))
            ThreePointArc((2.187654855, -5.182160866), (2.395008515, -5.08965217), (2.598459887, -4.988850691))
            ThreePointArc((2.598459887, -4.988850691), (2.980486578, -5.449720251), (3.475323802, -5.786590055))
            ThreePointArc((3.475323802, -5.786590055), (3.616830866, -5.699213497), (3.756142317, -5.608377207))
            ThreePointArc((3.756142317, -5.608377207), (3.662024848, -5.017202913), (3.407676656, -4.475306114))
            ThreePointArc((3.407676656, -4.475306114), (3.585509942, -4.334136991), (3.757501207, -4.185906076))
            ThreePointArc((3.757501207, -4.185906076), (4.242139425, -4.537290397), (4.805206542, -4.740515804))
            ThreePointArc((4.805206542, -4.740515804), (4.920538235, -4.620692965), (5.032882894, -4.498065115))
            ThreePointArc((5.032882894, -4.498065115), (4.79470323, -3.948869711), (4.4135816, -3.48725142))
            ThreePointArc((4.4135816, -3.48725142), (4.550720593, -3.306292044), (4.680444907, -3.119945588))
            ThreePointArc((4.680444907, -3.119945588), (5.237243052, -3.339765901), (5.833160483, -3.39657751))
            ThreePointArc((5.833160483, -3.39657751), (5.91507009, -3.2518373), (5.993388929, -3.105123049))
            ThreePointArc((5.993388929, -3.105123049), (5.626112774, -2.632414502), (5.14216498, -2.280079894))
            ThreePointArc((5.14216498, -2.280079894), (5.229992733, -2.070700609), (5.30929904, -1.857947445))
            ThreePointArc((5.30929904, -1.857947445), (5.903271436, -1.93239163), (6.494595498, -1.839219759))
            ThreePointArc((6.494595498, -1.839219759), (6.537936338, -1.678656738), (6.577308295, -1.517074682))
            ThreePointArc((6.577308295, -1.517074682), (6.104012961, -1.150555009), (5.547647223, -0.929642562))
            ThreePointArc((5.547647223, -0.929642562), (5.580645195, -0.704999439), (5.604550388, -0.47920763))
            ThreePointArc((5.604550388, -0.47920763), (6.198375565, -0.403598087), (6.747951192, -0.166297067))
            ThreePointArc((6.747951192, -0.166297067), (6.75, 0), (6.747951192, 0.166297067))
            ThreePointArc((6.747951192, 0.166297067), (6.198375565, 0.403598087), (5.604550388, 0.47920763))
            ThreePointArc((5.604550388, 0.47920763), (5.580645195, 0.704999439), (5.547647223, 0.929642562))
            ThreePointArc((5.547647223, 0.929642562), (6.104012961, 1.150555009), (6.577308295, 1.517074682))
            ThreePointArc((6.577308295, 1.517074682), (6.537936338, 1.678656738), (6.494595498, 1.839219759))
            ThreePointArc((6.494595498, 1.839219759), (5.903271436, 1.93239163), (5.30929904, 1.857947445))
            ThreePointArc((5.30929904, 1.857947445), (5.229992733, 2.070700609), (5.14216498, 2.280079894))
            ThreePointArc((5.14216498, 2.280079894), (5.626112774, 2.632414502), (5.993388929, 3.105123049))
            ThreePointArc((5.993388929, 3.105123049), (5.91507009, 3.2518373), (5.833160483, 3.39657751))
            ThreePointArc((5.833160483, 3.39657751), (5.237243052, 3.339765901), (4.680444907, 3.119945588))
            ThreePointArc((4.680444907, 3.119945588), (4.550720593, 3.306292044), (4.4135816, 3.48725142))
            ThreePointArc((4.4135816, 3.48725142), (4.79470323, 3.948869711), (5.032882894, 4.498065115))
            ThreePointArc((5.032882894, 4.498065115), (4.920538235, 4.620692965), (4.805206542, 4.740515804))
            ThreePointArc((4.805206542, 4.740515804), (4.242139425, 4.537290397), (3.757501207, 4.185906076))
            ThreePointArc((3.757501207, 4.185906076), (3.585509942, 4.334136991), (3.407676656, 4.475306114))
            ThreePointArc((3.407676656, 4.475306114), (3.662024848, 5.017202913), (3.756142317, 5.608377207))
            ThreePointArc((3.756142317, 5.608377207), (3.616830866, 5.699213497), (3.475323802, 5.786590055))
            ThreePointArc((3.475323802, 5.786590055), (2.980486578, 5.449720251), (2.598459887, 4.988850691))
            ThreePointArc((2.598459887, 4.988850691), (2.395008515, 5.08965217), (2.187654855, 5.182160866))
            ThreePointArc((2.187654855, 5.182160866), (2.299247977, 5.770286804), (2.243389504, 6.366294333))
            ThreePointArc((2.243389504, 6.366294333), (2.085864712, 6.419631485), (1.927073686, 6.469071572))
            ThreePointArc((1.927073686, 6.469071572), (1.531558797, 6.019724139), (1.276147777, 5.478327469))
            ThreePointArc((1.276147777, 5.478327469), (1.054019895, 5.525365785), (0.830174654, 5.563401392))
            ThreePointArc((0.830174654, 5.563401392), (0.7920009, 6.160802353), (0.589676279, 6.724193772))
            ThreePointArc((0.589676279, 6.724193772), (0.423836007, 6.736680417), (0.257738444, 6.745077531))
            ThreePointArc((0.257738444, 6.745077531), (-0.013602456, 6.21148662), (-0.126349393, 5.623580784))
        make_face()
    extrude(amount=EXTRUDE_1_DEPTH)

    # 草图2 → 凸台-拉伸2 (add)
    with BuildSketch(Plane(origin=(0, 0, 0), x_dir=(-1, 0, 0), z_dir=(0, 0, -1))):
        with Locations(Location((0, 0, 0), (0, 0, 180))):
            Circle(SKETCH_2_R)
        Circle(SKETCH_2_R_2, mode=Mode.SUBTRACT)
    extrude(amount=EXTRUDE_2_DEPTH)

    # 草图3 → 凸台-拉伸3 (add)
    with BuildSketch(Plane(origin=(0, 0, 0), x_dir=(-1, 0, 0), z_dir=(0, 0, -1))):
        Circle(SKETCH_3_R)
    extrude(amount=EXTRUDE_3_DEPTH)

    # 草图4 → 切除-拉伸1 (cut)
    with BuildSketch(Plane.XY.offset(25)):
        Circle(SKETCH_4_R)
    extrude(amount=-CUT_EXTRUDE_1_DEPTH, mode=Mode.SUBTRACT)

    # 草图5 → 切除-拉伸2 (cut, through all)
    with BuildSketch(Plane.XY.offset(1.5)):
        Circle(SKETCH_5_R)
    extrude(amount=-CUT_EXTRUDE_2_DEPTH, mode=Mode.SUBTRACT)


solid = part.part
